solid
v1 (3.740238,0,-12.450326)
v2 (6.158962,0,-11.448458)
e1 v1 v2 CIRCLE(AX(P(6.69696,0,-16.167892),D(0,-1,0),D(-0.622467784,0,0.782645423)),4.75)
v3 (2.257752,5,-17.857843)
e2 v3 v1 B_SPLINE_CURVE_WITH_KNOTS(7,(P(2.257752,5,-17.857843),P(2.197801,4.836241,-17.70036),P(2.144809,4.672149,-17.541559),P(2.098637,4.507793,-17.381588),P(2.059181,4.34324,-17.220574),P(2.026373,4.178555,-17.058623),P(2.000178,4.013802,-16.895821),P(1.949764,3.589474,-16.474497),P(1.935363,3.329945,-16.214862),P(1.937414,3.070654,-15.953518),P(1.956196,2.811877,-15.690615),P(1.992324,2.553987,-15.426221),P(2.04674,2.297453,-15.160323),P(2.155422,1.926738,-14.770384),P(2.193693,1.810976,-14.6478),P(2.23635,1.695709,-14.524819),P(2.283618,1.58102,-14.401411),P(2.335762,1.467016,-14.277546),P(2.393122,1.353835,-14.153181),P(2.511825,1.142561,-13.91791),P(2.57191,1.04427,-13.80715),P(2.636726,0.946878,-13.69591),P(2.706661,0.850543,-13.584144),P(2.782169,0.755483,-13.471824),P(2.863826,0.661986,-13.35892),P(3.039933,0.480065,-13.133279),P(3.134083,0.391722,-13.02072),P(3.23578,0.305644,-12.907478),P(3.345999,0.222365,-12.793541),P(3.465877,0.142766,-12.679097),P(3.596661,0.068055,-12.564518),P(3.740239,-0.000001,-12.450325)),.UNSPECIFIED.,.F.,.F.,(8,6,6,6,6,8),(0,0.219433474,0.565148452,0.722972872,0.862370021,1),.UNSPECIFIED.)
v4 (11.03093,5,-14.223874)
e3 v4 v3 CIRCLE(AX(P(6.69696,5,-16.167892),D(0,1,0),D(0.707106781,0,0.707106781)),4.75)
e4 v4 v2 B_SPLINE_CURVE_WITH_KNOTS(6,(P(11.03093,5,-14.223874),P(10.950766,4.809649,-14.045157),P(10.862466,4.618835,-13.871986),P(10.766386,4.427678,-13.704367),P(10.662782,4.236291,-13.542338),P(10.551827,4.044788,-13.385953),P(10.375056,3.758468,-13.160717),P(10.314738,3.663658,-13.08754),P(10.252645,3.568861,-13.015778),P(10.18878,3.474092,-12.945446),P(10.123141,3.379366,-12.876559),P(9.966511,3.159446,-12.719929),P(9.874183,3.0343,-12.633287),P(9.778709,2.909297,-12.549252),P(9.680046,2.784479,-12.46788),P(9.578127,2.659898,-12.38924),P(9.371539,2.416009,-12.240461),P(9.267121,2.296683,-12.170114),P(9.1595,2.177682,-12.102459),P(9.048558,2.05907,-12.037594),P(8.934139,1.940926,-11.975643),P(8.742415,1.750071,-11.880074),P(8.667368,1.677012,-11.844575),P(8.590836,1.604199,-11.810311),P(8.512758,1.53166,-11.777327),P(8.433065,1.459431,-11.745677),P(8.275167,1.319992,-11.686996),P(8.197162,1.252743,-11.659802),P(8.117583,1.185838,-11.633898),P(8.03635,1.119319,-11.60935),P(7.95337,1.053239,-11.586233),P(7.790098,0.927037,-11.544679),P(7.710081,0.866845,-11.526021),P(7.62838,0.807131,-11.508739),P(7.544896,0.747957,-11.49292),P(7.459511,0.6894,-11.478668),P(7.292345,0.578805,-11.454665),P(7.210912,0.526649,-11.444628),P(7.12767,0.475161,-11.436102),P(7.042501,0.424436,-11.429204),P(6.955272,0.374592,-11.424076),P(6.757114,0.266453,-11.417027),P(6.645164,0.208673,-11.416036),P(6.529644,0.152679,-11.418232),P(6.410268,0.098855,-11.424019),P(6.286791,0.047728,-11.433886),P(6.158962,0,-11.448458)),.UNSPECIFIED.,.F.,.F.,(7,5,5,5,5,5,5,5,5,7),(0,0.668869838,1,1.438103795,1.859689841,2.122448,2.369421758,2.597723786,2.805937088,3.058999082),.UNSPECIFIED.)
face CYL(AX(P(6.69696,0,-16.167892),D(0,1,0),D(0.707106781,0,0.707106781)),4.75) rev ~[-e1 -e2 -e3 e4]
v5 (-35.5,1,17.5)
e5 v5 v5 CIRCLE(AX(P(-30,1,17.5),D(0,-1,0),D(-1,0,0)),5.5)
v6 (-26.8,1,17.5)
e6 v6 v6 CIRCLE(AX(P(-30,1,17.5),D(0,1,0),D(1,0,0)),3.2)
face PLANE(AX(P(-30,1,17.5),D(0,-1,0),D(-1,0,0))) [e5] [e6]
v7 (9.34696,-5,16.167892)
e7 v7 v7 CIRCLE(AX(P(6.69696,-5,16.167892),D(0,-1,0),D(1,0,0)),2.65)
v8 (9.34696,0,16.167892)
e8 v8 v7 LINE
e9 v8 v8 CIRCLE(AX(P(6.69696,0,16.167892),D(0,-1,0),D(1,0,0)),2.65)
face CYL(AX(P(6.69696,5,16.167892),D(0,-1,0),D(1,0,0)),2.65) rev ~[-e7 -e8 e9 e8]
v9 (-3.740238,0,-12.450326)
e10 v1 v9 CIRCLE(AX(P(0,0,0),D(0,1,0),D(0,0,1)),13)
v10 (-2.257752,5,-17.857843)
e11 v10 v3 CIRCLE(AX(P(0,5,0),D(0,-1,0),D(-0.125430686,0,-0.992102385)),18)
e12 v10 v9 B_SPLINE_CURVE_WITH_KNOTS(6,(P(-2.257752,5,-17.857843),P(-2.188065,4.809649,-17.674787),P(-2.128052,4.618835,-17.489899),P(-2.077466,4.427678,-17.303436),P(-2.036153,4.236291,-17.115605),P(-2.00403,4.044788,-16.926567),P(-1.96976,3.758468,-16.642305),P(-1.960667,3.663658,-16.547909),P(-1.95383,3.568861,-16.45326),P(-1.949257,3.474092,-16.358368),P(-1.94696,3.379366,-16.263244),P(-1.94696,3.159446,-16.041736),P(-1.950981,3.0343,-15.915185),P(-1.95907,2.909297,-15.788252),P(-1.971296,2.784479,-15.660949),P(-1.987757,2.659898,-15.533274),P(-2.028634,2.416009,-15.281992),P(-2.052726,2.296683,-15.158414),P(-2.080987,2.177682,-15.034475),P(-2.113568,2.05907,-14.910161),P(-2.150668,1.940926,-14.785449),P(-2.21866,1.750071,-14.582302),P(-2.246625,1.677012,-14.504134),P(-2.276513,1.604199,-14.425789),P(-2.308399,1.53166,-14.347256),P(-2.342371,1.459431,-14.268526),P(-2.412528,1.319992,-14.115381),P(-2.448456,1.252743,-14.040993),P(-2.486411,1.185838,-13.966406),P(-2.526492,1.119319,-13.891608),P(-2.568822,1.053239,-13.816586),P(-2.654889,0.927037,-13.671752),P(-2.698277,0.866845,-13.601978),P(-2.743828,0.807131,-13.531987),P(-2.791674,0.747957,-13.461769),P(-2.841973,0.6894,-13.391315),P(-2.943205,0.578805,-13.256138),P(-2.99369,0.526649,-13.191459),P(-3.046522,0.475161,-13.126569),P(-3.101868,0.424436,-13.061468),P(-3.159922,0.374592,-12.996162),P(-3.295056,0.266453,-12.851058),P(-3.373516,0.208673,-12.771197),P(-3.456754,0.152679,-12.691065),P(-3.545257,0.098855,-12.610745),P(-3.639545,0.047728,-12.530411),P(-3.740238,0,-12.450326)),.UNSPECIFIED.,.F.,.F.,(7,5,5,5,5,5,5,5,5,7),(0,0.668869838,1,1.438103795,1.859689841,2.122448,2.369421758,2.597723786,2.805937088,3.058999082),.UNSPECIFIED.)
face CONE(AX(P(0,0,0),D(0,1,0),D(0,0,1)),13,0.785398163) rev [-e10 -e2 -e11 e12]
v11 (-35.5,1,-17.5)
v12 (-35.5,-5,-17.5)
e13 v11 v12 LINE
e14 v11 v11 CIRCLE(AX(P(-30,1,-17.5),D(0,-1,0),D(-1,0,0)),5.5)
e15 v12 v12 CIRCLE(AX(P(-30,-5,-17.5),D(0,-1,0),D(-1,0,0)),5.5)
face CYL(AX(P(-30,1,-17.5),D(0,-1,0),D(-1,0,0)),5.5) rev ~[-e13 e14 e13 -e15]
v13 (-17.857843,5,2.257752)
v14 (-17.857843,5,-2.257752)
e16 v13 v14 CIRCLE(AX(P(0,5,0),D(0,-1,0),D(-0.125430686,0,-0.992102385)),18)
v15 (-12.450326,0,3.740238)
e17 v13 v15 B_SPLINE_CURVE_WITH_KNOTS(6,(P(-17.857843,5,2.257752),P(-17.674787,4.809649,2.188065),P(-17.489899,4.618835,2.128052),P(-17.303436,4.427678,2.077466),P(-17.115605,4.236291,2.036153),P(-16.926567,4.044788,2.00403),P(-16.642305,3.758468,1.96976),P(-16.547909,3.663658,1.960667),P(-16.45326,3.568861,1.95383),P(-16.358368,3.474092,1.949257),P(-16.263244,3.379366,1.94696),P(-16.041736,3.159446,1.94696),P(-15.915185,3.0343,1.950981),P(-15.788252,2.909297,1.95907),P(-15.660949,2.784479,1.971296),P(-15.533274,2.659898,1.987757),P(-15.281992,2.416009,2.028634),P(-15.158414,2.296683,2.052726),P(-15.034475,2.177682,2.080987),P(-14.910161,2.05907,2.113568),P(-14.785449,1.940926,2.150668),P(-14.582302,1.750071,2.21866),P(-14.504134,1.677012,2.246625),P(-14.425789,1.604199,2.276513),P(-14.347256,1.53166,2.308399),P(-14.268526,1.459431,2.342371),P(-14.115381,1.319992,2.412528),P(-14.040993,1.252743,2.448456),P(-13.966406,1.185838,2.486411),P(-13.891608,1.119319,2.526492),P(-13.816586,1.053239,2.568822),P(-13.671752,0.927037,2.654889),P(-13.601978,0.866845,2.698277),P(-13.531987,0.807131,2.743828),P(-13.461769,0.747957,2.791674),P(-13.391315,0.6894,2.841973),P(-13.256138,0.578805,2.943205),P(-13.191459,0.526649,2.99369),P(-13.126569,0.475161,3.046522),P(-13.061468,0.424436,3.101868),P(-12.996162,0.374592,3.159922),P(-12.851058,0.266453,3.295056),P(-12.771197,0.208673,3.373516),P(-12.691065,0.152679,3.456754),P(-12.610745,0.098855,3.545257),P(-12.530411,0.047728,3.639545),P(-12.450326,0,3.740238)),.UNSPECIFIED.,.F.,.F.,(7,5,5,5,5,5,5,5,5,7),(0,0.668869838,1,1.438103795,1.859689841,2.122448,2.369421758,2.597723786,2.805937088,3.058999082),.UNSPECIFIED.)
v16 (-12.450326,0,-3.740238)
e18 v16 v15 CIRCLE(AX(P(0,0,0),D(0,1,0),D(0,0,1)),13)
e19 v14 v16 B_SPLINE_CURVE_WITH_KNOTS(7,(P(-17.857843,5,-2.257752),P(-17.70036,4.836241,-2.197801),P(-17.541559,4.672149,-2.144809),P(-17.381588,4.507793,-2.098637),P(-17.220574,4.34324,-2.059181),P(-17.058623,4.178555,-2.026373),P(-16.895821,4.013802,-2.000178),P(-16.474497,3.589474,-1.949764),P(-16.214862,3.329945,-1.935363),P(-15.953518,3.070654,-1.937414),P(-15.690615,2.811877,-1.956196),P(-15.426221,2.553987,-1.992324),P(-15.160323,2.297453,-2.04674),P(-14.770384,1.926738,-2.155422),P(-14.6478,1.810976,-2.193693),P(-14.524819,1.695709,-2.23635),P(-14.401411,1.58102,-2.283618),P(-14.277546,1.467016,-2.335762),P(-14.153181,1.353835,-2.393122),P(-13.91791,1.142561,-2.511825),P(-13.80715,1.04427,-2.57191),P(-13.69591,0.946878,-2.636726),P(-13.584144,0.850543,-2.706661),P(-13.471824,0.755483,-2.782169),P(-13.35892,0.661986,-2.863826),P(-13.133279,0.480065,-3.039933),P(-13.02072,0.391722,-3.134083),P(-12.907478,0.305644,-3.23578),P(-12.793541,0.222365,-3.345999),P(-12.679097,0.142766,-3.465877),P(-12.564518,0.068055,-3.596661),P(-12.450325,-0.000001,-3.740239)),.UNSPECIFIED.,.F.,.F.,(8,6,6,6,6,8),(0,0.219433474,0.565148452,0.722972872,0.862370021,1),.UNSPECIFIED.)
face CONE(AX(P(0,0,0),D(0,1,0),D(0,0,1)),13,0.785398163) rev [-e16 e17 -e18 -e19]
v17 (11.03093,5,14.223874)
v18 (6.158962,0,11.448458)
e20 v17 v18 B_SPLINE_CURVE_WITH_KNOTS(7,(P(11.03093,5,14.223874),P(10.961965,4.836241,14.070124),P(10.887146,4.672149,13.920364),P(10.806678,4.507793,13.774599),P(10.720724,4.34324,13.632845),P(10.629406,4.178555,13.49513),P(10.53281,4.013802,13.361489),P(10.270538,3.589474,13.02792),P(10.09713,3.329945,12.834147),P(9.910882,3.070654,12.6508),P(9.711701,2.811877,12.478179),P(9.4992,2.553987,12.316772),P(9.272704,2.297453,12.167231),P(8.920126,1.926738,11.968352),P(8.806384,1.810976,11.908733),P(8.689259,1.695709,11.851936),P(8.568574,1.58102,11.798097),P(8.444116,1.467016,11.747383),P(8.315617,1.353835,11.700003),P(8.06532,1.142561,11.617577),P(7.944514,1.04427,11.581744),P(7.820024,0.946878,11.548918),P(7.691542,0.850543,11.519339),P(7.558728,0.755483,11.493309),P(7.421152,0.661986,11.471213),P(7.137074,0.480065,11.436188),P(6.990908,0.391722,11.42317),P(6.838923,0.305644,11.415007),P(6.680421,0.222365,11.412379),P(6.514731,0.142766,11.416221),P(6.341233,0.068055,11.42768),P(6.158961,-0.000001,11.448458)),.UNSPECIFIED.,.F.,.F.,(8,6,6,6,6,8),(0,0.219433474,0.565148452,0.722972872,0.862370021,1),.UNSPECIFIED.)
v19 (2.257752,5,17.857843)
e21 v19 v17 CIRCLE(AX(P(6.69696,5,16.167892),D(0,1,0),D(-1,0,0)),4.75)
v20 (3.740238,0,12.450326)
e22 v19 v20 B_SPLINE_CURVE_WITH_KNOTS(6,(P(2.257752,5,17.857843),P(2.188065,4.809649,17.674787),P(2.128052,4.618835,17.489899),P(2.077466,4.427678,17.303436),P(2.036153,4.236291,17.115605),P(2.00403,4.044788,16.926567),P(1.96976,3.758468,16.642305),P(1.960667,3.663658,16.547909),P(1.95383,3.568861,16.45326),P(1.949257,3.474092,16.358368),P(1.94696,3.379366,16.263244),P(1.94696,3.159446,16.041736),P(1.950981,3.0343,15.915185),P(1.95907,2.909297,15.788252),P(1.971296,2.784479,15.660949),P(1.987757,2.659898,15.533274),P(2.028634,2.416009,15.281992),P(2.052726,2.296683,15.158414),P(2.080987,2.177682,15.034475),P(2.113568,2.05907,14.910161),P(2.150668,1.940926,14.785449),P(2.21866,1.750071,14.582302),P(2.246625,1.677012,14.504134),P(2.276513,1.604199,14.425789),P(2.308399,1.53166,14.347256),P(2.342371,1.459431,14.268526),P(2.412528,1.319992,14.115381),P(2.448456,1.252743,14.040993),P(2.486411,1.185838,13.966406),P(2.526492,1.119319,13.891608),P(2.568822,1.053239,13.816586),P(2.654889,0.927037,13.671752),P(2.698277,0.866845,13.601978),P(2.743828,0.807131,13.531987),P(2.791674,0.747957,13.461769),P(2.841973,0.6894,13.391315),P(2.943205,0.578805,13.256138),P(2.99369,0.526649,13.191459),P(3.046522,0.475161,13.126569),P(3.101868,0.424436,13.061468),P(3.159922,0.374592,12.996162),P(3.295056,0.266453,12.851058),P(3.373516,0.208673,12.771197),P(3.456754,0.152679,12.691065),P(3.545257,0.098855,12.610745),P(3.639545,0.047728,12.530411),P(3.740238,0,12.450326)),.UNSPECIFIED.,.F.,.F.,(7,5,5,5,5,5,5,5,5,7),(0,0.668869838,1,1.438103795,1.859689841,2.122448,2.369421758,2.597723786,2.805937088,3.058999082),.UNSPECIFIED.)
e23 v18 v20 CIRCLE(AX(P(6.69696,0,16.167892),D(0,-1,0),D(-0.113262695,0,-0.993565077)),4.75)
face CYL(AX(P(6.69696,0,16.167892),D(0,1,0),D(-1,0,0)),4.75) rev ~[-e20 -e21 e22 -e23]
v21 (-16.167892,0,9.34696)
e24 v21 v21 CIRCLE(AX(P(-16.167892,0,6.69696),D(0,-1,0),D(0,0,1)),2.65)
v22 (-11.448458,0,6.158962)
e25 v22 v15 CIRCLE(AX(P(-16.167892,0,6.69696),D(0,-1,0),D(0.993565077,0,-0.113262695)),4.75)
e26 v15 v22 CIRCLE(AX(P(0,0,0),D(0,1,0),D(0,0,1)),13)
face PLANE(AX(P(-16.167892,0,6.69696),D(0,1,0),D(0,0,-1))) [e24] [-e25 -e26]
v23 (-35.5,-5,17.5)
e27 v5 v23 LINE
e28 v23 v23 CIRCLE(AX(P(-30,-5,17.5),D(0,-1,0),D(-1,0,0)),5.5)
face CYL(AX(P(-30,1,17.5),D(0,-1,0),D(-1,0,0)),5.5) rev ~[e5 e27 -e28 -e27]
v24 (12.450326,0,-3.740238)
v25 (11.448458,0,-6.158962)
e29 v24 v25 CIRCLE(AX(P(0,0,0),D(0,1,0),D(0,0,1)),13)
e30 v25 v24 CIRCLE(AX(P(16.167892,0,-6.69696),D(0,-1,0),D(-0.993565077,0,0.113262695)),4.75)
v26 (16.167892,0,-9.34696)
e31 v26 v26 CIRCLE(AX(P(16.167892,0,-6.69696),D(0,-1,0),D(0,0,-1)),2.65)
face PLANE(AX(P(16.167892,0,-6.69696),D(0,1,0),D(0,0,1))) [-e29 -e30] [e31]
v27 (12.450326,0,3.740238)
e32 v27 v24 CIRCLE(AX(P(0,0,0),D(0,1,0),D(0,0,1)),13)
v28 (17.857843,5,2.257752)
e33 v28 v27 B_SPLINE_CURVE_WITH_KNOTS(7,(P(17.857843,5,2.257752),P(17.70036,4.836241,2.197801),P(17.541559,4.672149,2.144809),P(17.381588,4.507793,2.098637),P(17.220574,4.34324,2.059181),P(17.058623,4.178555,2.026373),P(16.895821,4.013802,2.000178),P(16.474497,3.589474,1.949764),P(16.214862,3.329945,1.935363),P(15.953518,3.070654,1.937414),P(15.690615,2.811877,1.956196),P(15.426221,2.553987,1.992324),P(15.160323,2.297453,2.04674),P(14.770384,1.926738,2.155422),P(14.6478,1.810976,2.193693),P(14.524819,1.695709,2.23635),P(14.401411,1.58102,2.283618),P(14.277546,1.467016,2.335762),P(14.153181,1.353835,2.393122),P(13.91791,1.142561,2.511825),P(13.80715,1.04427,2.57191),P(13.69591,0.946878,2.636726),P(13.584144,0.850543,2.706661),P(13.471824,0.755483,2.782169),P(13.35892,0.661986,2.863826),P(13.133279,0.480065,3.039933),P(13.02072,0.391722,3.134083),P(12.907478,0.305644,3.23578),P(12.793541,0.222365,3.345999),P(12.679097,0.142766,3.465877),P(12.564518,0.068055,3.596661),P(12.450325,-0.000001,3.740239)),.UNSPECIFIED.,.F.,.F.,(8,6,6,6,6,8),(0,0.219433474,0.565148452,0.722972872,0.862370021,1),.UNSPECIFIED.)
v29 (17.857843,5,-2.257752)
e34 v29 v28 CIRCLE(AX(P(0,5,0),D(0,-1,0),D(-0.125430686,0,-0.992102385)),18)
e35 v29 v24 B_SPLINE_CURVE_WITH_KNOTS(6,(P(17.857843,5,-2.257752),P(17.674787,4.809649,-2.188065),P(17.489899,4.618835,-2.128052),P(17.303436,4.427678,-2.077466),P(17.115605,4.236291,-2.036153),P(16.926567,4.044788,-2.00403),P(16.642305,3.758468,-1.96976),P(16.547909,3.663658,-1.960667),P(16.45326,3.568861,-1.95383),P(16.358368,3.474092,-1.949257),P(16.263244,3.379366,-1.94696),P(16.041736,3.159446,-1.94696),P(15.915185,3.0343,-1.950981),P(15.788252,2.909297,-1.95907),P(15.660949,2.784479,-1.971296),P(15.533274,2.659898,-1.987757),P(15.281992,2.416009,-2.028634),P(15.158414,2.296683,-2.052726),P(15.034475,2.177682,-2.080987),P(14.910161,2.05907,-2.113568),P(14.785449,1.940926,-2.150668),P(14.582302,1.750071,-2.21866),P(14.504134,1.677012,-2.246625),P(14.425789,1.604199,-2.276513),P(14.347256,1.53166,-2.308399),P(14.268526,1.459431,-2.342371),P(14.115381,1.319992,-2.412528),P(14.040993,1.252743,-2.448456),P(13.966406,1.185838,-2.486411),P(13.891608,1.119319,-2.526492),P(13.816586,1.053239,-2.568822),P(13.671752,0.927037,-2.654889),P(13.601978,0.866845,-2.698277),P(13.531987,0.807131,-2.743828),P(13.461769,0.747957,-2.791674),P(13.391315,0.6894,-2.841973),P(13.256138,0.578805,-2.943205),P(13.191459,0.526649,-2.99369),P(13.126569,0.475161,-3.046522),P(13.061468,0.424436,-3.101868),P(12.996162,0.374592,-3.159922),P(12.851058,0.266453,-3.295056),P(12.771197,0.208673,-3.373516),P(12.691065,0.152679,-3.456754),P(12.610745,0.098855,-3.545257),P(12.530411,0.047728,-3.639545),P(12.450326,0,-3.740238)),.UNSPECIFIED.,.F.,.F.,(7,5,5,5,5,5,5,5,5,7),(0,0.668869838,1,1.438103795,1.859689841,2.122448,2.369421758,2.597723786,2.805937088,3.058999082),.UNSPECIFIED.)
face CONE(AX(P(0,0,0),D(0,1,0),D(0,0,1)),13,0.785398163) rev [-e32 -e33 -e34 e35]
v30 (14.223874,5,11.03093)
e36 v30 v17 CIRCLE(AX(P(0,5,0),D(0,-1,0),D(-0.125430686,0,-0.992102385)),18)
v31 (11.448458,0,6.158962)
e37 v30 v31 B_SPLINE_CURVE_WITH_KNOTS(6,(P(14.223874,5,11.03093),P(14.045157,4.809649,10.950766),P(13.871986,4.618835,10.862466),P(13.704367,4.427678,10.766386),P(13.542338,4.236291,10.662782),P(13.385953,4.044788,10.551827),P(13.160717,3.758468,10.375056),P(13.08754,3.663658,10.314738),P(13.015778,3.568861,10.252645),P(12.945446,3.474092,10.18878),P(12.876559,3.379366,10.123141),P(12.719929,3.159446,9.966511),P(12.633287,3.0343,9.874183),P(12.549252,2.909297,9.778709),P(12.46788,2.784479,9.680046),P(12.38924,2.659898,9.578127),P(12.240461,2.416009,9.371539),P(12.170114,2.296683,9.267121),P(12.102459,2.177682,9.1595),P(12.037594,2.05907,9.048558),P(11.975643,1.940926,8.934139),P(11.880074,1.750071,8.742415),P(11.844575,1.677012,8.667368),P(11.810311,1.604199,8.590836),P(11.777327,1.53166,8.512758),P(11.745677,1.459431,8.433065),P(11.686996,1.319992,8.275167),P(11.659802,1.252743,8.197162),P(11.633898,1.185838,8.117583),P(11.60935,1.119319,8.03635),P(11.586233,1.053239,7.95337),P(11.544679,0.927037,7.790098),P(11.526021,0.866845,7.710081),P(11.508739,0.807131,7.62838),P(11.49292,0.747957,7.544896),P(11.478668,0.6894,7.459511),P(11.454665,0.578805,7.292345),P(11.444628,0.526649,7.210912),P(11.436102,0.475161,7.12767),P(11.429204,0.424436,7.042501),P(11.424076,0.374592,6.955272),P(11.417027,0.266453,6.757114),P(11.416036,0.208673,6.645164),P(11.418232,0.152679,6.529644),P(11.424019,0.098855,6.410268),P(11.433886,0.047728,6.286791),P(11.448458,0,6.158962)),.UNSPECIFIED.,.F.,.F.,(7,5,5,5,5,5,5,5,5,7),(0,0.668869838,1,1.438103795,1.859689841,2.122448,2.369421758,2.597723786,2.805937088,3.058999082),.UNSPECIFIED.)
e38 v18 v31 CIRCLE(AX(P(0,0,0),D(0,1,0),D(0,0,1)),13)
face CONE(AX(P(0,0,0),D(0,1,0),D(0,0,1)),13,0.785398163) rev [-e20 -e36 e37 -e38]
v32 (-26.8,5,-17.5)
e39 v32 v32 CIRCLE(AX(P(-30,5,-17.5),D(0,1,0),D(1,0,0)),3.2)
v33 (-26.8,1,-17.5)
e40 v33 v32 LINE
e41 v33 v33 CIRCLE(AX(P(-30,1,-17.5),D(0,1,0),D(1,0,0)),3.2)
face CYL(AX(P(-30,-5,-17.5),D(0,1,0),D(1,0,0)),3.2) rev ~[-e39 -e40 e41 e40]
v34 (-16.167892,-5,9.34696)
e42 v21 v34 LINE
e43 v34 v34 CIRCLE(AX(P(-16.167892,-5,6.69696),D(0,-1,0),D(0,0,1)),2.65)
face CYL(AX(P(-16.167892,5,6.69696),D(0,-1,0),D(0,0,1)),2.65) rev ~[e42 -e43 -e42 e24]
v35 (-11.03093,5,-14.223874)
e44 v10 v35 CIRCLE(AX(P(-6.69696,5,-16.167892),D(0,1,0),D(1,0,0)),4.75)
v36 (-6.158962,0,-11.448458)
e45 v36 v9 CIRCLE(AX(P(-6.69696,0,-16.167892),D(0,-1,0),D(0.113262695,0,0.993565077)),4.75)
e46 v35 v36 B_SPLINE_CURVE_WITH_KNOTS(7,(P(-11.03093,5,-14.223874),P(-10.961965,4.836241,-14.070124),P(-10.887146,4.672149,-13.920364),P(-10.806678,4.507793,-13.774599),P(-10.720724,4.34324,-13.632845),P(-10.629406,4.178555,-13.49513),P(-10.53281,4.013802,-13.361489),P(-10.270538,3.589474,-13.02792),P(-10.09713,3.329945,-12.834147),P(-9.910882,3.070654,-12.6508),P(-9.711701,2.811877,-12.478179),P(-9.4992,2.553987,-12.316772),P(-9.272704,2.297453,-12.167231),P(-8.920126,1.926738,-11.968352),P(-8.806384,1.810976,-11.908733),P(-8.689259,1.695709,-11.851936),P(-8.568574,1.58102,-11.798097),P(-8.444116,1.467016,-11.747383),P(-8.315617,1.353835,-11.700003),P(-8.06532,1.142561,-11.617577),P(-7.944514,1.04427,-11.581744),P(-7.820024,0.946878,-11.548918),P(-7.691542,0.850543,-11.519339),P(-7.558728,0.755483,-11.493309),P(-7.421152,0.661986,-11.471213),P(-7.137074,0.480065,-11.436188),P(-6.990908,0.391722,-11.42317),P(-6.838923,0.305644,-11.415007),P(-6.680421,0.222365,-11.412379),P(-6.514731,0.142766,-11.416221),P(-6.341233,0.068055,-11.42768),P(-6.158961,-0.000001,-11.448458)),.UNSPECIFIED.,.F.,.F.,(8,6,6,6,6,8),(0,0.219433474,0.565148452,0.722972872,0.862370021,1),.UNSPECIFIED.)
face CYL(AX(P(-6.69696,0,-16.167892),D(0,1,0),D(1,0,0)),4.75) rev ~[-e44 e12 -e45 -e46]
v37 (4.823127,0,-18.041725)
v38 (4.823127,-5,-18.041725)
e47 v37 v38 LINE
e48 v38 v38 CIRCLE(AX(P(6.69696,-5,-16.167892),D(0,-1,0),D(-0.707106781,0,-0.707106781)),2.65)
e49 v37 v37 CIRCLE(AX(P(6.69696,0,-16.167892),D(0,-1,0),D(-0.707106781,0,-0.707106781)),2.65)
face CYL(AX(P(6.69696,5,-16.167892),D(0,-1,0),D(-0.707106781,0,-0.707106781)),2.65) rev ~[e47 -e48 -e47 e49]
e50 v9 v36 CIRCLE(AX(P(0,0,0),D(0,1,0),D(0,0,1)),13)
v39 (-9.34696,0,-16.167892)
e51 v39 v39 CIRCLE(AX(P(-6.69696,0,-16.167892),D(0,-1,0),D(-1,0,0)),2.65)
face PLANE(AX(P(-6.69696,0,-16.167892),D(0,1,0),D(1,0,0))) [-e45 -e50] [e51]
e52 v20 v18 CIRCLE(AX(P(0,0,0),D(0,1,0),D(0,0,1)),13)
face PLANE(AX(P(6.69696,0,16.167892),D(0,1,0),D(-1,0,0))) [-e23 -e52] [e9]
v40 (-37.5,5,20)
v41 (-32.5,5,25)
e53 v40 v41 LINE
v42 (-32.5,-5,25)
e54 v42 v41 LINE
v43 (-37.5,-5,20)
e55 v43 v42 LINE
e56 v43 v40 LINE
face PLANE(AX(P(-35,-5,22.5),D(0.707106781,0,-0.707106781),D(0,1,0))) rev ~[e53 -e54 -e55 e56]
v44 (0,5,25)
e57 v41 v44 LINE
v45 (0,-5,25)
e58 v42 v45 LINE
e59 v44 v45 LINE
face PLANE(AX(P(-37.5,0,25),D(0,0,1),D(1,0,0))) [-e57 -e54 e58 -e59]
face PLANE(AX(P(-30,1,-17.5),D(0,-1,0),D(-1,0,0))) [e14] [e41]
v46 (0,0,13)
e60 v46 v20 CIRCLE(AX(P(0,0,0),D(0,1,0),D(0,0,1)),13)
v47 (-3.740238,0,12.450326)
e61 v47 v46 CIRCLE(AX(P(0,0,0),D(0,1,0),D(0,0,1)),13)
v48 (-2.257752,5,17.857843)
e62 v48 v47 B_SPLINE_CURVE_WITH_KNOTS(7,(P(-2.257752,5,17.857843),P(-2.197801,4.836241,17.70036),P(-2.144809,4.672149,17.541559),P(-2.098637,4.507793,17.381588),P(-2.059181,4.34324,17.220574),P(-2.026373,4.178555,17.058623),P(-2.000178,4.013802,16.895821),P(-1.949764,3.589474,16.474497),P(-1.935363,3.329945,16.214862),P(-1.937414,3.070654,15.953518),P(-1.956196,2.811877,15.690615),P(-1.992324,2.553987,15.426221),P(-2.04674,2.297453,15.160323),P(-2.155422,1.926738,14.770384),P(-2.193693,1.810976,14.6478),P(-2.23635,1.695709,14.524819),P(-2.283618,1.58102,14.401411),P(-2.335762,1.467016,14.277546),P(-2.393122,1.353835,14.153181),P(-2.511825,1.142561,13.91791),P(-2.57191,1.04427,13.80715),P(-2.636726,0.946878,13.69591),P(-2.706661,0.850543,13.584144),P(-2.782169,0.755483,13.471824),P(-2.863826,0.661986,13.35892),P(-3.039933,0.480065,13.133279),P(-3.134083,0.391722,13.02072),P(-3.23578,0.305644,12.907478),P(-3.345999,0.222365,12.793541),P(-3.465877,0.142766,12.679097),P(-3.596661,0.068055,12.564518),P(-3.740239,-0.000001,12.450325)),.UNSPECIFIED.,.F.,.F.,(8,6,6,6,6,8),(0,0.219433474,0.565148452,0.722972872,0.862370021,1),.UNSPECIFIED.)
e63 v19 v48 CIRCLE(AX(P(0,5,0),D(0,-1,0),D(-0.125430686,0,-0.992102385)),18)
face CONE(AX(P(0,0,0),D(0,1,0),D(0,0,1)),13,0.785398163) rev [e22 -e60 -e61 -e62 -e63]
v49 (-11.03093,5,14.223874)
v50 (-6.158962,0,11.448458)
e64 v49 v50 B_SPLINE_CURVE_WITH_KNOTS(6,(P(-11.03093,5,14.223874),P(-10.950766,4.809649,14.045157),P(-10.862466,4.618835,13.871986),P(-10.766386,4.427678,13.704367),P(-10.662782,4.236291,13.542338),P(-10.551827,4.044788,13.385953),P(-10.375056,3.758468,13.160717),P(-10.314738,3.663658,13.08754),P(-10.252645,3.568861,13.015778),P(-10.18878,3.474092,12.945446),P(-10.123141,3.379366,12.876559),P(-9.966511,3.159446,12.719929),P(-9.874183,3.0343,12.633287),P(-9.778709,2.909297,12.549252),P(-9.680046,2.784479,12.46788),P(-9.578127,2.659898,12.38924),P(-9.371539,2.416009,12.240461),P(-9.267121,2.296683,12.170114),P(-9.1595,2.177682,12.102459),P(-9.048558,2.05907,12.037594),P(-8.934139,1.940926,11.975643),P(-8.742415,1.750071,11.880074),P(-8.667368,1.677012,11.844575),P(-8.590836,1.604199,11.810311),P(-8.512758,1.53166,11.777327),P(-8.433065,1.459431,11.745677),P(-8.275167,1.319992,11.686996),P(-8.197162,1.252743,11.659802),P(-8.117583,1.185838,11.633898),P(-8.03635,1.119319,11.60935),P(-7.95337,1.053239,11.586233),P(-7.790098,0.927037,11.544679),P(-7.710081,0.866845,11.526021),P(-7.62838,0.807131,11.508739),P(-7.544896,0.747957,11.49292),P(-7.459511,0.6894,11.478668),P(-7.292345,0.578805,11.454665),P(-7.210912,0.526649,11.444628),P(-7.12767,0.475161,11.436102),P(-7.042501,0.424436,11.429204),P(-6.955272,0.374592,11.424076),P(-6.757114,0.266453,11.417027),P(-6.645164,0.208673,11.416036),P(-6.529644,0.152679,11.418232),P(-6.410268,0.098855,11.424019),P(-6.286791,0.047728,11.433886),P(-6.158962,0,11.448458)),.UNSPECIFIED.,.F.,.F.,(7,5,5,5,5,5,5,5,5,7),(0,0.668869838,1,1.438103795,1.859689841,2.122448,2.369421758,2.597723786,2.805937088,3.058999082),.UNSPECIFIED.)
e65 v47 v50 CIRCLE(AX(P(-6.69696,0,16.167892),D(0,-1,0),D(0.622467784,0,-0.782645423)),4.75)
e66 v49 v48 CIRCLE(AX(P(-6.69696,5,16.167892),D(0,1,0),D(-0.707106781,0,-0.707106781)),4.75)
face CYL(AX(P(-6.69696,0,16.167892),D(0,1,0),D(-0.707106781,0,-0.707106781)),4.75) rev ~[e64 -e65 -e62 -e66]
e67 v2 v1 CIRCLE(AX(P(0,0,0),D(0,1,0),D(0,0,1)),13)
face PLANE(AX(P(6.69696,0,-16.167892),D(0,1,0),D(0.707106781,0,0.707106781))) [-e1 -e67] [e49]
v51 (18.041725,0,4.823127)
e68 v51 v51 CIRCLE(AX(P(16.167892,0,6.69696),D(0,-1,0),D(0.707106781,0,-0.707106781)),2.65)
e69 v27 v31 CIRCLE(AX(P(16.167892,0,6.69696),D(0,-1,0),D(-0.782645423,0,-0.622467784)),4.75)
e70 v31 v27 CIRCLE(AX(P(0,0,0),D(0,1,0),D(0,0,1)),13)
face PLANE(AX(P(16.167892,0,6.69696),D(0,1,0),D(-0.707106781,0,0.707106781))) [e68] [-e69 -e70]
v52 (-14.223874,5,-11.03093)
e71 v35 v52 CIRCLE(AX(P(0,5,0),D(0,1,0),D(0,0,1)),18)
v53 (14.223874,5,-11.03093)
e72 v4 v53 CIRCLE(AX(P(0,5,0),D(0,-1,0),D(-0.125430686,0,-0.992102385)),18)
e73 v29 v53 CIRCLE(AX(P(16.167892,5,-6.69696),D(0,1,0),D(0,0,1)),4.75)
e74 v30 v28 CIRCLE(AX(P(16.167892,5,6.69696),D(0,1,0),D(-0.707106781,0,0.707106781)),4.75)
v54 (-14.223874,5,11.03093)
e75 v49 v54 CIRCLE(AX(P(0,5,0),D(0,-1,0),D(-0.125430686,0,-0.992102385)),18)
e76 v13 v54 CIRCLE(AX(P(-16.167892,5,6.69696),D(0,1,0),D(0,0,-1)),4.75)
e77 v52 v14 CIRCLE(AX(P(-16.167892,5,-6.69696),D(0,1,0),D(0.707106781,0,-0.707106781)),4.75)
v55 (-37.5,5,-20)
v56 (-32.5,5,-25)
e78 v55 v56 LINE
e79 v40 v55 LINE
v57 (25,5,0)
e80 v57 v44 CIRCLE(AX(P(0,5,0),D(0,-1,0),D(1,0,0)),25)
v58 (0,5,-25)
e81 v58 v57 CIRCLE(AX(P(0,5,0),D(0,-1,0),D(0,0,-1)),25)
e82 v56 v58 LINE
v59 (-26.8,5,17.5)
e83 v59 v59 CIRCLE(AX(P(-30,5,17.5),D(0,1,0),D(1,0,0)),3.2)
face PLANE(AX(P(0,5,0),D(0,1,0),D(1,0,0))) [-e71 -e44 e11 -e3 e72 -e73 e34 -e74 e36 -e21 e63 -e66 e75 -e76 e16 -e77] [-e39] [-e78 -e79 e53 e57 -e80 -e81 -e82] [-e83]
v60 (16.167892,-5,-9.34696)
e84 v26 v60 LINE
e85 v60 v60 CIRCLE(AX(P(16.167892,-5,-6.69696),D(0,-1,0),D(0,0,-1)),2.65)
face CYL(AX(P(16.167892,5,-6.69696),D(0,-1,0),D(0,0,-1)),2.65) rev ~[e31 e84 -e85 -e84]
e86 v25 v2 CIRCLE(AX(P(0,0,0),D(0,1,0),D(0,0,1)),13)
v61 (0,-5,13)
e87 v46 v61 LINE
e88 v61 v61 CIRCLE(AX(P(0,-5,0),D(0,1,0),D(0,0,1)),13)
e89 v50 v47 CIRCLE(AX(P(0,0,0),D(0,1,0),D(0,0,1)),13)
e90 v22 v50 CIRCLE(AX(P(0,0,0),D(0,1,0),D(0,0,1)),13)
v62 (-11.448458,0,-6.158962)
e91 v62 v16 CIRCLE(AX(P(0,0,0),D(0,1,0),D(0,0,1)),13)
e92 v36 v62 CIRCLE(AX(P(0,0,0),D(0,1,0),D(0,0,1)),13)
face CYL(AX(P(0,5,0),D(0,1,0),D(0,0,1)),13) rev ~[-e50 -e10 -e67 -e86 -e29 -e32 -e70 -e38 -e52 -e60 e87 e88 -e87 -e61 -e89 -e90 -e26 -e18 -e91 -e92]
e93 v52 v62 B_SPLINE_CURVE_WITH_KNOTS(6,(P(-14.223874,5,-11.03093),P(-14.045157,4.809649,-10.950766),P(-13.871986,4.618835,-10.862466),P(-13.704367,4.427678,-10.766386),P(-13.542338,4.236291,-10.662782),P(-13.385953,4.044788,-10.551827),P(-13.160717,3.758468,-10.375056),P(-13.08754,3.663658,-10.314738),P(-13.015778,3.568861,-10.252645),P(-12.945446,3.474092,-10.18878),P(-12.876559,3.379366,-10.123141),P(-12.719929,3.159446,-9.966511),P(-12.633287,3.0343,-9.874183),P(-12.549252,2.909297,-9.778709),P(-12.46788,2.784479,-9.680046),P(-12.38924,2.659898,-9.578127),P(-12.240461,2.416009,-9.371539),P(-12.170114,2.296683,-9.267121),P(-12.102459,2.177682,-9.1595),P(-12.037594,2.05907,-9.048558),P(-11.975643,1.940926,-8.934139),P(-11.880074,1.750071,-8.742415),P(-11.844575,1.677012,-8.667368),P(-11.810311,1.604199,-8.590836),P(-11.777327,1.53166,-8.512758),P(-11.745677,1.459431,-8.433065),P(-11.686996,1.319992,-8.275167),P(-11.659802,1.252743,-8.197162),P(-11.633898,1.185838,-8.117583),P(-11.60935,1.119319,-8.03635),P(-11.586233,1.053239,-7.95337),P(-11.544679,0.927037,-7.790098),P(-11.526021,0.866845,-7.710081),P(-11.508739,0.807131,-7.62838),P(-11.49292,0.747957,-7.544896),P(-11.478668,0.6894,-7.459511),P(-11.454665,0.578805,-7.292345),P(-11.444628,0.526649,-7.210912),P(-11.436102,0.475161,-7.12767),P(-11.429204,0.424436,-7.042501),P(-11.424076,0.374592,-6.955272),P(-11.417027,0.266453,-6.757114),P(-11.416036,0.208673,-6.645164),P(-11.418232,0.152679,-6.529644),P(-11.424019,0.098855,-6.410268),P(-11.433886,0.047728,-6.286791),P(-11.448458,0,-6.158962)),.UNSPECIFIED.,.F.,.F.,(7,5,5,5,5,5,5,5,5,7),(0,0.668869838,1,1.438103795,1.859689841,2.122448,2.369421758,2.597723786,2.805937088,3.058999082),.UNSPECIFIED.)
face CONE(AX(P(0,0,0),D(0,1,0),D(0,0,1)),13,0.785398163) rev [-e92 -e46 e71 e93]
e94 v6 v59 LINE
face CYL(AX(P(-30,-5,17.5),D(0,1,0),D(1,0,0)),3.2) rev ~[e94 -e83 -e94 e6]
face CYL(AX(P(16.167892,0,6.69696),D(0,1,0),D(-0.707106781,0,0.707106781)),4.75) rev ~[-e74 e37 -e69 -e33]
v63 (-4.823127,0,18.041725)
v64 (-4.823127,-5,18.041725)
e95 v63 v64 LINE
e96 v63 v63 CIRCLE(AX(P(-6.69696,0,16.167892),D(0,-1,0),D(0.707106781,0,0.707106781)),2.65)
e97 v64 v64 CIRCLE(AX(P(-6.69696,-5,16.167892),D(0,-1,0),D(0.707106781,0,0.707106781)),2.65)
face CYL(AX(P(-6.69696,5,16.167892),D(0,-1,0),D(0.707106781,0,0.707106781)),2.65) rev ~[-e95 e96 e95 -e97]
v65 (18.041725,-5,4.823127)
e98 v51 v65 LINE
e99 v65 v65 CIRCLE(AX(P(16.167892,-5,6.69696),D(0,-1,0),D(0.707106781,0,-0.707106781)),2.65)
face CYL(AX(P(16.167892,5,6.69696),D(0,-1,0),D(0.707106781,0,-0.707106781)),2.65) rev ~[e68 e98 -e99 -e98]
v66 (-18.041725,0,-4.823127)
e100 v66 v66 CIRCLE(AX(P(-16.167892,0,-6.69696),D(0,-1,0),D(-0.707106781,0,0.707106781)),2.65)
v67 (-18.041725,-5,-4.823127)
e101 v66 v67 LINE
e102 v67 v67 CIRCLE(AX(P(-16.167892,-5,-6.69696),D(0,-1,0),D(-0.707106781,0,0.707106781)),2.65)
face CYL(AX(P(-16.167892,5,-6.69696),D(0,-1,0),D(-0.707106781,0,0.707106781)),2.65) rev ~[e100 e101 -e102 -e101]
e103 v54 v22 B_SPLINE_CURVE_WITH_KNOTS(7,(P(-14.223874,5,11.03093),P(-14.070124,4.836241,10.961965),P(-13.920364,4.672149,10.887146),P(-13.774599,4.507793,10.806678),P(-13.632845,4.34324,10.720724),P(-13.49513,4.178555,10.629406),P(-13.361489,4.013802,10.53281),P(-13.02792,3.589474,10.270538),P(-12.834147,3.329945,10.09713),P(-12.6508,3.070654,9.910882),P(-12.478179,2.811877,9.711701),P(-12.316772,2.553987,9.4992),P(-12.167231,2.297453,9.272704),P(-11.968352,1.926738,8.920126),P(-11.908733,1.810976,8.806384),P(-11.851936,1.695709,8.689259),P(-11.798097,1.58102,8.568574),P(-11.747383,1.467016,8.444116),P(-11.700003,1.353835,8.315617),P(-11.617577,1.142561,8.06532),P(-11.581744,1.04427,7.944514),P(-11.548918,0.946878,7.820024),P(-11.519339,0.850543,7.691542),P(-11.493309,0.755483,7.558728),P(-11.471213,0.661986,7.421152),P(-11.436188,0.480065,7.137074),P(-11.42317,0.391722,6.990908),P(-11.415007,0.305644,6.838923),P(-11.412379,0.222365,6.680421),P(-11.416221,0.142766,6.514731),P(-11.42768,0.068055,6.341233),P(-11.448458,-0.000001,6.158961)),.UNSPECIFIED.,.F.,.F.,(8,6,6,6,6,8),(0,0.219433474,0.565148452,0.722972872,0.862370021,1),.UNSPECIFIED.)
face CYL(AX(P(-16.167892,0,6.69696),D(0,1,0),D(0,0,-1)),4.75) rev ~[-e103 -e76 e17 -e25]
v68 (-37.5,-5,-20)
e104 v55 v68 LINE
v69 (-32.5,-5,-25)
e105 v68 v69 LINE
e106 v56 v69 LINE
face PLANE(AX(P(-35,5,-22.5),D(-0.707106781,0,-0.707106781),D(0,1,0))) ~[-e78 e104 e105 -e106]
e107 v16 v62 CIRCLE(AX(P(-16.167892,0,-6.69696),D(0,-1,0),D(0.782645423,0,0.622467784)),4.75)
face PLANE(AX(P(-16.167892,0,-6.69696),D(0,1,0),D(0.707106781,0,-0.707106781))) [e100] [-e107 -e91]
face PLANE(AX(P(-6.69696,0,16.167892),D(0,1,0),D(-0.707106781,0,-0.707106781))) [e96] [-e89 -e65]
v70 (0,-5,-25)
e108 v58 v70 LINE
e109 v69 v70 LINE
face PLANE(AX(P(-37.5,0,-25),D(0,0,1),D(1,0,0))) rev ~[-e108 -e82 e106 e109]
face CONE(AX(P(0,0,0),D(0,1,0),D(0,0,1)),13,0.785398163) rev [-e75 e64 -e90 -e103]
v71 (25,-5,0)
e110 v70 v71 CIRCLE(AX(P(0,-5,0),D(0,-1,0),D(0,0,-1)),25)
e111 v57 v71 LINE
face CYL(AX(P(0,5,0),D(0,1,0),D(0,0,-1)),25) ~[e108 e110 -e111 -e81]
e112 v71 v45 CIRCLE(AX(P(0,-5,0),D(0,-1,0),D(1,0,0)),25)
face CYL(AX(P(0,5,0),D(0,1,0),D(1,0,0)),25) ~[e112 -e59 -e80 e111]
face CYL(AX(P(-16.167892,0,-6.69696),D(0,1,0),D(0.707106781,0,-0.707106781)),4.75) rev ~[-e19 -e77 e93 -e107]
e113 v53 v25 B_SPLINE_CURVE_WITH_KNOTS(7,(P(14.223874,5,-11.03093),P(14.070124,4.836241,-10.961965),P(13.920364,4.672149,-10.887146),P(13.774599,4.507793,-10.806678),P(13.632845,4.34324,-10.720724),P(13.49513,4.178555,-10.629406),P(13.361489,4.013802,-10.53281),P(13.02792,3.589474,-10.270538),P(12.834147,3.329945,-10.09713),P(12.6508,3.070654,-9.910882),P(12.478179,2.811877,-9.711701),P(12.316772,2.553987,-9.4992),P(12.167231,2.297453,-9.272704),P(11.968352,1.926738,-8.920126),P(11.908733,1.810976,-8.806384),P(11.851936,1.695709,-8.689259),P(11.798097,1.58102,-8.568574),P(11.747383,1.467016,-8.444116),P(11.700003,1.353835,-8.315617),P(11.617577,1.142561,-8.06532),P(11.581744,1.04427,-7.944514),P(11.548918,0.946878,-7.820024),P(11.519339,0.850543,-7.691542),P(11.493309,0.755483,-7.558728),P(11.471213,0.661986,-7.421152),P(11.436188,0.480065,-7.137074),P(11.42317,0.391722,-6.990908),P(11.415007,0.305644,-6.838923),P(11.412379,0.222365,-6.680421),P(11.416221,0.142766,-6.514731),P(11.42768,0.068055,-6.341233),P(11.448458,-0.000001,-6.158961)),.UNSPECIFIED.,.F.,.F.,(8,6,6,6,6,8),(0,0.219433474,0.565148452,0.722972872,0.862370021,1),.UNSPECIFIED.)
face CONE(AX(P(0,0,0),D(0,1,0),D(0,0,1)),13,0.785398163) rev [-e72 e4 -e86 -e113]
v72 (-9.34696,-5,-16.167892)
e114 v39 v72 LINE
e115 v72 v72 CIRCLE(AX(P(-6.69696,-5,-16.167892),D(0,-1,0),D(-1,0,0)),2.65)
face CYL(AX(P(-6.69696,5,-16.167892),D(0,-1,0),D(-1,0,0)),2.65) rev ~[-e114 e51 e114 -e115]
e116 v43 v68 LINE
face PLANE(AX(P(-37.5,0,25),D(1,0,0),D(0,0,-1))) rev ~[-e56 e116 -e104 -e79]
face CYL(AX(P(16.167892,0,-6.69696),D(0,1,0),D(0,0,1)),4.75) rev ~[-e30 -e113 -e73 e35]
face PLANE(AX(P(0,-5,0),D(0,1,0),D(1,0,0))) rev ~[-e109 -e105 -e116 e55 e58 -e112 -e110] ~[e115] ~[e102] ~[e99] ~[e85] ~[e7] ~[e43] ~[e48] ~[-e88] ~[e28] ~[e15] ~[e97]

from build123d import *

# Parameters (mm, degrees)
SKETCH1_W                      = 75
SKETCH1_H                      = 50
BOSS_EXTRUDE1_DEPTH            = 5
CUT_EXTRUDE1_REACH             = 48.165
SKETCH2_R                      = 13
CHAMFER1_SIZE                  = 5
CBORE_FOR_M5_SHCS1_D           = 5.3
CBORE_FOR_M5_SHCS1_CBORE_D     = 9.5
CBORE_FOR_M5_SHCS1_CBORE_DEPTH = 5
CIRPATTERN1_COUNT              = 8
CBORE_FOR_M6_SHCS1_D           = 6.4
CBORE_FOR_M6_SHCS1_CBORE_D     = 11
CBORE_FOR_M6_SHCS1_CBORE_DEPTH = 6
CHAMFER2_SIZE                  = 5
CUT_EXTRUDE2_DEPTH             = 10


with BuildPart() as part:
    # Sketch1 → Boss-Extrude1 (new, symmetric)
    with BuildSketch(Plane(origin=(0, 0, 0), x_dir=(1, 0, 0), z_dir=(0, 1, 0))):
        Rectangle(SKETCH1_W, SKETCH1_H)
    extrude(amount=BOSS_EXTRUDE1_DEPTH, both=True)

    # Sketch2 → Cut-Extrude1 (cut, up to next)
    with BuildSketch(Plane(origin=(0, 5, 0), x_dir=(1, 0, 0), z_dir=(0, 1, 0)), mode=Mode.PRIVATE) as cut_extrude1_sk1:
        with Locations(Location((0, 0, 0), (0, 0, 270))):
            Circle(SKETCH2_R)
    cut_extrude1_tool1 = extrude(cut_extrude1_sk1.sketch, amount=-CUT_EXTRUDE1_REACH, mode=Mode.PRIVATE) & part.part
    add(cut_extrude1_tool1.solids().sort_by_distance((0, 5, 0))[0], mode=Mode.SUBTRACT)

    # Chamfer1
    chamfer1_edges = [part.edges().sort_by_distance(p)[0] for p in [
        (0, 5, -13),
    ]]
    chamfer(chamfer1_edges, length=CHAMFER1_SIZE)

    # CBORE for M5 SHCS1 (through all)
    with Locations(Plane(origin=(0, 5, 0), x_dir=(1, 0, 0), z_dir=(0, 1, 0))):
        with Locations((-6.696960066, 16.167891819)):
            cbore_for_m5_shcs1 = CounterBoreHole(CBORE_FOR_M5_SHCS1_D / 2, CBORE_FOR_M5_SHCS1_CBORE_D / 2, CBORE_FOR_M5_SHCS1_CBORE_DEPTH)

    # CirPattern1: CBORE for M5 SHCS1 ×8 about axis
    cirpattern1_axis = Axis((0, 0, 0), (0, 1, 0))
    for i in range(1, CIRPATTERN1_COUNT):
        add(cbore_for_m5_shcs1.rotate(cirpattern1_axis, i * 360 / CIRPATTERN1_COUNT), mode=Mode.SUBTRACT)

    # CBORE for M6 SHCS1 (through all)
    with Locations(Plane(origin=(0, -5, 0), x_dir=(-1, 0, 0), z_dir=(0, -1, 0))):
        with Locations((30, -17.5), (30, 17.5)):
            CounterBoreHole(CBORE_FOR_M6_SHCS1_D / 2, CBORE_FOR_M6_SHCS1_CBORE_D / 2, CBORE_FOR_M6_SHCS1_CBORE_DEPTH)

    # Chamfer2
    chamfer2_edges = [part.edges().sort_by_distance(p)[0] for p in [
        (-37.5, 0, 25),
        (-37.5, 0, -25),
    ]]
    chamfer(chamfer2_edges, length=CHAMFER2_SIZE)

    # Sketch10 → Cut-Extrude2 (cut)
    with BuildSketch(Plane(origin=(0, 5, 0), x_dir=(1, 0, 0), z_dir=(0, 1, 0))):
        with BuildLine():
            ThreePointArc((0, 25), (17.67766953, 17.67766953), (25, 0))
            ThreePointArc((25, 0), (17.677669539, -17.67766952), (2.6e-08, -25))
            Line((2.6e-08, -25), (37.5, -25))
            Line((37.5, -25), (37.5, 25))
            Line((37.5, 25), (0, 25))
        make_face()
    extrude(amount=-CUT_EXTRUDE2_DEPTH, mode=Mode.SUBTRACT)


solid = part.part
